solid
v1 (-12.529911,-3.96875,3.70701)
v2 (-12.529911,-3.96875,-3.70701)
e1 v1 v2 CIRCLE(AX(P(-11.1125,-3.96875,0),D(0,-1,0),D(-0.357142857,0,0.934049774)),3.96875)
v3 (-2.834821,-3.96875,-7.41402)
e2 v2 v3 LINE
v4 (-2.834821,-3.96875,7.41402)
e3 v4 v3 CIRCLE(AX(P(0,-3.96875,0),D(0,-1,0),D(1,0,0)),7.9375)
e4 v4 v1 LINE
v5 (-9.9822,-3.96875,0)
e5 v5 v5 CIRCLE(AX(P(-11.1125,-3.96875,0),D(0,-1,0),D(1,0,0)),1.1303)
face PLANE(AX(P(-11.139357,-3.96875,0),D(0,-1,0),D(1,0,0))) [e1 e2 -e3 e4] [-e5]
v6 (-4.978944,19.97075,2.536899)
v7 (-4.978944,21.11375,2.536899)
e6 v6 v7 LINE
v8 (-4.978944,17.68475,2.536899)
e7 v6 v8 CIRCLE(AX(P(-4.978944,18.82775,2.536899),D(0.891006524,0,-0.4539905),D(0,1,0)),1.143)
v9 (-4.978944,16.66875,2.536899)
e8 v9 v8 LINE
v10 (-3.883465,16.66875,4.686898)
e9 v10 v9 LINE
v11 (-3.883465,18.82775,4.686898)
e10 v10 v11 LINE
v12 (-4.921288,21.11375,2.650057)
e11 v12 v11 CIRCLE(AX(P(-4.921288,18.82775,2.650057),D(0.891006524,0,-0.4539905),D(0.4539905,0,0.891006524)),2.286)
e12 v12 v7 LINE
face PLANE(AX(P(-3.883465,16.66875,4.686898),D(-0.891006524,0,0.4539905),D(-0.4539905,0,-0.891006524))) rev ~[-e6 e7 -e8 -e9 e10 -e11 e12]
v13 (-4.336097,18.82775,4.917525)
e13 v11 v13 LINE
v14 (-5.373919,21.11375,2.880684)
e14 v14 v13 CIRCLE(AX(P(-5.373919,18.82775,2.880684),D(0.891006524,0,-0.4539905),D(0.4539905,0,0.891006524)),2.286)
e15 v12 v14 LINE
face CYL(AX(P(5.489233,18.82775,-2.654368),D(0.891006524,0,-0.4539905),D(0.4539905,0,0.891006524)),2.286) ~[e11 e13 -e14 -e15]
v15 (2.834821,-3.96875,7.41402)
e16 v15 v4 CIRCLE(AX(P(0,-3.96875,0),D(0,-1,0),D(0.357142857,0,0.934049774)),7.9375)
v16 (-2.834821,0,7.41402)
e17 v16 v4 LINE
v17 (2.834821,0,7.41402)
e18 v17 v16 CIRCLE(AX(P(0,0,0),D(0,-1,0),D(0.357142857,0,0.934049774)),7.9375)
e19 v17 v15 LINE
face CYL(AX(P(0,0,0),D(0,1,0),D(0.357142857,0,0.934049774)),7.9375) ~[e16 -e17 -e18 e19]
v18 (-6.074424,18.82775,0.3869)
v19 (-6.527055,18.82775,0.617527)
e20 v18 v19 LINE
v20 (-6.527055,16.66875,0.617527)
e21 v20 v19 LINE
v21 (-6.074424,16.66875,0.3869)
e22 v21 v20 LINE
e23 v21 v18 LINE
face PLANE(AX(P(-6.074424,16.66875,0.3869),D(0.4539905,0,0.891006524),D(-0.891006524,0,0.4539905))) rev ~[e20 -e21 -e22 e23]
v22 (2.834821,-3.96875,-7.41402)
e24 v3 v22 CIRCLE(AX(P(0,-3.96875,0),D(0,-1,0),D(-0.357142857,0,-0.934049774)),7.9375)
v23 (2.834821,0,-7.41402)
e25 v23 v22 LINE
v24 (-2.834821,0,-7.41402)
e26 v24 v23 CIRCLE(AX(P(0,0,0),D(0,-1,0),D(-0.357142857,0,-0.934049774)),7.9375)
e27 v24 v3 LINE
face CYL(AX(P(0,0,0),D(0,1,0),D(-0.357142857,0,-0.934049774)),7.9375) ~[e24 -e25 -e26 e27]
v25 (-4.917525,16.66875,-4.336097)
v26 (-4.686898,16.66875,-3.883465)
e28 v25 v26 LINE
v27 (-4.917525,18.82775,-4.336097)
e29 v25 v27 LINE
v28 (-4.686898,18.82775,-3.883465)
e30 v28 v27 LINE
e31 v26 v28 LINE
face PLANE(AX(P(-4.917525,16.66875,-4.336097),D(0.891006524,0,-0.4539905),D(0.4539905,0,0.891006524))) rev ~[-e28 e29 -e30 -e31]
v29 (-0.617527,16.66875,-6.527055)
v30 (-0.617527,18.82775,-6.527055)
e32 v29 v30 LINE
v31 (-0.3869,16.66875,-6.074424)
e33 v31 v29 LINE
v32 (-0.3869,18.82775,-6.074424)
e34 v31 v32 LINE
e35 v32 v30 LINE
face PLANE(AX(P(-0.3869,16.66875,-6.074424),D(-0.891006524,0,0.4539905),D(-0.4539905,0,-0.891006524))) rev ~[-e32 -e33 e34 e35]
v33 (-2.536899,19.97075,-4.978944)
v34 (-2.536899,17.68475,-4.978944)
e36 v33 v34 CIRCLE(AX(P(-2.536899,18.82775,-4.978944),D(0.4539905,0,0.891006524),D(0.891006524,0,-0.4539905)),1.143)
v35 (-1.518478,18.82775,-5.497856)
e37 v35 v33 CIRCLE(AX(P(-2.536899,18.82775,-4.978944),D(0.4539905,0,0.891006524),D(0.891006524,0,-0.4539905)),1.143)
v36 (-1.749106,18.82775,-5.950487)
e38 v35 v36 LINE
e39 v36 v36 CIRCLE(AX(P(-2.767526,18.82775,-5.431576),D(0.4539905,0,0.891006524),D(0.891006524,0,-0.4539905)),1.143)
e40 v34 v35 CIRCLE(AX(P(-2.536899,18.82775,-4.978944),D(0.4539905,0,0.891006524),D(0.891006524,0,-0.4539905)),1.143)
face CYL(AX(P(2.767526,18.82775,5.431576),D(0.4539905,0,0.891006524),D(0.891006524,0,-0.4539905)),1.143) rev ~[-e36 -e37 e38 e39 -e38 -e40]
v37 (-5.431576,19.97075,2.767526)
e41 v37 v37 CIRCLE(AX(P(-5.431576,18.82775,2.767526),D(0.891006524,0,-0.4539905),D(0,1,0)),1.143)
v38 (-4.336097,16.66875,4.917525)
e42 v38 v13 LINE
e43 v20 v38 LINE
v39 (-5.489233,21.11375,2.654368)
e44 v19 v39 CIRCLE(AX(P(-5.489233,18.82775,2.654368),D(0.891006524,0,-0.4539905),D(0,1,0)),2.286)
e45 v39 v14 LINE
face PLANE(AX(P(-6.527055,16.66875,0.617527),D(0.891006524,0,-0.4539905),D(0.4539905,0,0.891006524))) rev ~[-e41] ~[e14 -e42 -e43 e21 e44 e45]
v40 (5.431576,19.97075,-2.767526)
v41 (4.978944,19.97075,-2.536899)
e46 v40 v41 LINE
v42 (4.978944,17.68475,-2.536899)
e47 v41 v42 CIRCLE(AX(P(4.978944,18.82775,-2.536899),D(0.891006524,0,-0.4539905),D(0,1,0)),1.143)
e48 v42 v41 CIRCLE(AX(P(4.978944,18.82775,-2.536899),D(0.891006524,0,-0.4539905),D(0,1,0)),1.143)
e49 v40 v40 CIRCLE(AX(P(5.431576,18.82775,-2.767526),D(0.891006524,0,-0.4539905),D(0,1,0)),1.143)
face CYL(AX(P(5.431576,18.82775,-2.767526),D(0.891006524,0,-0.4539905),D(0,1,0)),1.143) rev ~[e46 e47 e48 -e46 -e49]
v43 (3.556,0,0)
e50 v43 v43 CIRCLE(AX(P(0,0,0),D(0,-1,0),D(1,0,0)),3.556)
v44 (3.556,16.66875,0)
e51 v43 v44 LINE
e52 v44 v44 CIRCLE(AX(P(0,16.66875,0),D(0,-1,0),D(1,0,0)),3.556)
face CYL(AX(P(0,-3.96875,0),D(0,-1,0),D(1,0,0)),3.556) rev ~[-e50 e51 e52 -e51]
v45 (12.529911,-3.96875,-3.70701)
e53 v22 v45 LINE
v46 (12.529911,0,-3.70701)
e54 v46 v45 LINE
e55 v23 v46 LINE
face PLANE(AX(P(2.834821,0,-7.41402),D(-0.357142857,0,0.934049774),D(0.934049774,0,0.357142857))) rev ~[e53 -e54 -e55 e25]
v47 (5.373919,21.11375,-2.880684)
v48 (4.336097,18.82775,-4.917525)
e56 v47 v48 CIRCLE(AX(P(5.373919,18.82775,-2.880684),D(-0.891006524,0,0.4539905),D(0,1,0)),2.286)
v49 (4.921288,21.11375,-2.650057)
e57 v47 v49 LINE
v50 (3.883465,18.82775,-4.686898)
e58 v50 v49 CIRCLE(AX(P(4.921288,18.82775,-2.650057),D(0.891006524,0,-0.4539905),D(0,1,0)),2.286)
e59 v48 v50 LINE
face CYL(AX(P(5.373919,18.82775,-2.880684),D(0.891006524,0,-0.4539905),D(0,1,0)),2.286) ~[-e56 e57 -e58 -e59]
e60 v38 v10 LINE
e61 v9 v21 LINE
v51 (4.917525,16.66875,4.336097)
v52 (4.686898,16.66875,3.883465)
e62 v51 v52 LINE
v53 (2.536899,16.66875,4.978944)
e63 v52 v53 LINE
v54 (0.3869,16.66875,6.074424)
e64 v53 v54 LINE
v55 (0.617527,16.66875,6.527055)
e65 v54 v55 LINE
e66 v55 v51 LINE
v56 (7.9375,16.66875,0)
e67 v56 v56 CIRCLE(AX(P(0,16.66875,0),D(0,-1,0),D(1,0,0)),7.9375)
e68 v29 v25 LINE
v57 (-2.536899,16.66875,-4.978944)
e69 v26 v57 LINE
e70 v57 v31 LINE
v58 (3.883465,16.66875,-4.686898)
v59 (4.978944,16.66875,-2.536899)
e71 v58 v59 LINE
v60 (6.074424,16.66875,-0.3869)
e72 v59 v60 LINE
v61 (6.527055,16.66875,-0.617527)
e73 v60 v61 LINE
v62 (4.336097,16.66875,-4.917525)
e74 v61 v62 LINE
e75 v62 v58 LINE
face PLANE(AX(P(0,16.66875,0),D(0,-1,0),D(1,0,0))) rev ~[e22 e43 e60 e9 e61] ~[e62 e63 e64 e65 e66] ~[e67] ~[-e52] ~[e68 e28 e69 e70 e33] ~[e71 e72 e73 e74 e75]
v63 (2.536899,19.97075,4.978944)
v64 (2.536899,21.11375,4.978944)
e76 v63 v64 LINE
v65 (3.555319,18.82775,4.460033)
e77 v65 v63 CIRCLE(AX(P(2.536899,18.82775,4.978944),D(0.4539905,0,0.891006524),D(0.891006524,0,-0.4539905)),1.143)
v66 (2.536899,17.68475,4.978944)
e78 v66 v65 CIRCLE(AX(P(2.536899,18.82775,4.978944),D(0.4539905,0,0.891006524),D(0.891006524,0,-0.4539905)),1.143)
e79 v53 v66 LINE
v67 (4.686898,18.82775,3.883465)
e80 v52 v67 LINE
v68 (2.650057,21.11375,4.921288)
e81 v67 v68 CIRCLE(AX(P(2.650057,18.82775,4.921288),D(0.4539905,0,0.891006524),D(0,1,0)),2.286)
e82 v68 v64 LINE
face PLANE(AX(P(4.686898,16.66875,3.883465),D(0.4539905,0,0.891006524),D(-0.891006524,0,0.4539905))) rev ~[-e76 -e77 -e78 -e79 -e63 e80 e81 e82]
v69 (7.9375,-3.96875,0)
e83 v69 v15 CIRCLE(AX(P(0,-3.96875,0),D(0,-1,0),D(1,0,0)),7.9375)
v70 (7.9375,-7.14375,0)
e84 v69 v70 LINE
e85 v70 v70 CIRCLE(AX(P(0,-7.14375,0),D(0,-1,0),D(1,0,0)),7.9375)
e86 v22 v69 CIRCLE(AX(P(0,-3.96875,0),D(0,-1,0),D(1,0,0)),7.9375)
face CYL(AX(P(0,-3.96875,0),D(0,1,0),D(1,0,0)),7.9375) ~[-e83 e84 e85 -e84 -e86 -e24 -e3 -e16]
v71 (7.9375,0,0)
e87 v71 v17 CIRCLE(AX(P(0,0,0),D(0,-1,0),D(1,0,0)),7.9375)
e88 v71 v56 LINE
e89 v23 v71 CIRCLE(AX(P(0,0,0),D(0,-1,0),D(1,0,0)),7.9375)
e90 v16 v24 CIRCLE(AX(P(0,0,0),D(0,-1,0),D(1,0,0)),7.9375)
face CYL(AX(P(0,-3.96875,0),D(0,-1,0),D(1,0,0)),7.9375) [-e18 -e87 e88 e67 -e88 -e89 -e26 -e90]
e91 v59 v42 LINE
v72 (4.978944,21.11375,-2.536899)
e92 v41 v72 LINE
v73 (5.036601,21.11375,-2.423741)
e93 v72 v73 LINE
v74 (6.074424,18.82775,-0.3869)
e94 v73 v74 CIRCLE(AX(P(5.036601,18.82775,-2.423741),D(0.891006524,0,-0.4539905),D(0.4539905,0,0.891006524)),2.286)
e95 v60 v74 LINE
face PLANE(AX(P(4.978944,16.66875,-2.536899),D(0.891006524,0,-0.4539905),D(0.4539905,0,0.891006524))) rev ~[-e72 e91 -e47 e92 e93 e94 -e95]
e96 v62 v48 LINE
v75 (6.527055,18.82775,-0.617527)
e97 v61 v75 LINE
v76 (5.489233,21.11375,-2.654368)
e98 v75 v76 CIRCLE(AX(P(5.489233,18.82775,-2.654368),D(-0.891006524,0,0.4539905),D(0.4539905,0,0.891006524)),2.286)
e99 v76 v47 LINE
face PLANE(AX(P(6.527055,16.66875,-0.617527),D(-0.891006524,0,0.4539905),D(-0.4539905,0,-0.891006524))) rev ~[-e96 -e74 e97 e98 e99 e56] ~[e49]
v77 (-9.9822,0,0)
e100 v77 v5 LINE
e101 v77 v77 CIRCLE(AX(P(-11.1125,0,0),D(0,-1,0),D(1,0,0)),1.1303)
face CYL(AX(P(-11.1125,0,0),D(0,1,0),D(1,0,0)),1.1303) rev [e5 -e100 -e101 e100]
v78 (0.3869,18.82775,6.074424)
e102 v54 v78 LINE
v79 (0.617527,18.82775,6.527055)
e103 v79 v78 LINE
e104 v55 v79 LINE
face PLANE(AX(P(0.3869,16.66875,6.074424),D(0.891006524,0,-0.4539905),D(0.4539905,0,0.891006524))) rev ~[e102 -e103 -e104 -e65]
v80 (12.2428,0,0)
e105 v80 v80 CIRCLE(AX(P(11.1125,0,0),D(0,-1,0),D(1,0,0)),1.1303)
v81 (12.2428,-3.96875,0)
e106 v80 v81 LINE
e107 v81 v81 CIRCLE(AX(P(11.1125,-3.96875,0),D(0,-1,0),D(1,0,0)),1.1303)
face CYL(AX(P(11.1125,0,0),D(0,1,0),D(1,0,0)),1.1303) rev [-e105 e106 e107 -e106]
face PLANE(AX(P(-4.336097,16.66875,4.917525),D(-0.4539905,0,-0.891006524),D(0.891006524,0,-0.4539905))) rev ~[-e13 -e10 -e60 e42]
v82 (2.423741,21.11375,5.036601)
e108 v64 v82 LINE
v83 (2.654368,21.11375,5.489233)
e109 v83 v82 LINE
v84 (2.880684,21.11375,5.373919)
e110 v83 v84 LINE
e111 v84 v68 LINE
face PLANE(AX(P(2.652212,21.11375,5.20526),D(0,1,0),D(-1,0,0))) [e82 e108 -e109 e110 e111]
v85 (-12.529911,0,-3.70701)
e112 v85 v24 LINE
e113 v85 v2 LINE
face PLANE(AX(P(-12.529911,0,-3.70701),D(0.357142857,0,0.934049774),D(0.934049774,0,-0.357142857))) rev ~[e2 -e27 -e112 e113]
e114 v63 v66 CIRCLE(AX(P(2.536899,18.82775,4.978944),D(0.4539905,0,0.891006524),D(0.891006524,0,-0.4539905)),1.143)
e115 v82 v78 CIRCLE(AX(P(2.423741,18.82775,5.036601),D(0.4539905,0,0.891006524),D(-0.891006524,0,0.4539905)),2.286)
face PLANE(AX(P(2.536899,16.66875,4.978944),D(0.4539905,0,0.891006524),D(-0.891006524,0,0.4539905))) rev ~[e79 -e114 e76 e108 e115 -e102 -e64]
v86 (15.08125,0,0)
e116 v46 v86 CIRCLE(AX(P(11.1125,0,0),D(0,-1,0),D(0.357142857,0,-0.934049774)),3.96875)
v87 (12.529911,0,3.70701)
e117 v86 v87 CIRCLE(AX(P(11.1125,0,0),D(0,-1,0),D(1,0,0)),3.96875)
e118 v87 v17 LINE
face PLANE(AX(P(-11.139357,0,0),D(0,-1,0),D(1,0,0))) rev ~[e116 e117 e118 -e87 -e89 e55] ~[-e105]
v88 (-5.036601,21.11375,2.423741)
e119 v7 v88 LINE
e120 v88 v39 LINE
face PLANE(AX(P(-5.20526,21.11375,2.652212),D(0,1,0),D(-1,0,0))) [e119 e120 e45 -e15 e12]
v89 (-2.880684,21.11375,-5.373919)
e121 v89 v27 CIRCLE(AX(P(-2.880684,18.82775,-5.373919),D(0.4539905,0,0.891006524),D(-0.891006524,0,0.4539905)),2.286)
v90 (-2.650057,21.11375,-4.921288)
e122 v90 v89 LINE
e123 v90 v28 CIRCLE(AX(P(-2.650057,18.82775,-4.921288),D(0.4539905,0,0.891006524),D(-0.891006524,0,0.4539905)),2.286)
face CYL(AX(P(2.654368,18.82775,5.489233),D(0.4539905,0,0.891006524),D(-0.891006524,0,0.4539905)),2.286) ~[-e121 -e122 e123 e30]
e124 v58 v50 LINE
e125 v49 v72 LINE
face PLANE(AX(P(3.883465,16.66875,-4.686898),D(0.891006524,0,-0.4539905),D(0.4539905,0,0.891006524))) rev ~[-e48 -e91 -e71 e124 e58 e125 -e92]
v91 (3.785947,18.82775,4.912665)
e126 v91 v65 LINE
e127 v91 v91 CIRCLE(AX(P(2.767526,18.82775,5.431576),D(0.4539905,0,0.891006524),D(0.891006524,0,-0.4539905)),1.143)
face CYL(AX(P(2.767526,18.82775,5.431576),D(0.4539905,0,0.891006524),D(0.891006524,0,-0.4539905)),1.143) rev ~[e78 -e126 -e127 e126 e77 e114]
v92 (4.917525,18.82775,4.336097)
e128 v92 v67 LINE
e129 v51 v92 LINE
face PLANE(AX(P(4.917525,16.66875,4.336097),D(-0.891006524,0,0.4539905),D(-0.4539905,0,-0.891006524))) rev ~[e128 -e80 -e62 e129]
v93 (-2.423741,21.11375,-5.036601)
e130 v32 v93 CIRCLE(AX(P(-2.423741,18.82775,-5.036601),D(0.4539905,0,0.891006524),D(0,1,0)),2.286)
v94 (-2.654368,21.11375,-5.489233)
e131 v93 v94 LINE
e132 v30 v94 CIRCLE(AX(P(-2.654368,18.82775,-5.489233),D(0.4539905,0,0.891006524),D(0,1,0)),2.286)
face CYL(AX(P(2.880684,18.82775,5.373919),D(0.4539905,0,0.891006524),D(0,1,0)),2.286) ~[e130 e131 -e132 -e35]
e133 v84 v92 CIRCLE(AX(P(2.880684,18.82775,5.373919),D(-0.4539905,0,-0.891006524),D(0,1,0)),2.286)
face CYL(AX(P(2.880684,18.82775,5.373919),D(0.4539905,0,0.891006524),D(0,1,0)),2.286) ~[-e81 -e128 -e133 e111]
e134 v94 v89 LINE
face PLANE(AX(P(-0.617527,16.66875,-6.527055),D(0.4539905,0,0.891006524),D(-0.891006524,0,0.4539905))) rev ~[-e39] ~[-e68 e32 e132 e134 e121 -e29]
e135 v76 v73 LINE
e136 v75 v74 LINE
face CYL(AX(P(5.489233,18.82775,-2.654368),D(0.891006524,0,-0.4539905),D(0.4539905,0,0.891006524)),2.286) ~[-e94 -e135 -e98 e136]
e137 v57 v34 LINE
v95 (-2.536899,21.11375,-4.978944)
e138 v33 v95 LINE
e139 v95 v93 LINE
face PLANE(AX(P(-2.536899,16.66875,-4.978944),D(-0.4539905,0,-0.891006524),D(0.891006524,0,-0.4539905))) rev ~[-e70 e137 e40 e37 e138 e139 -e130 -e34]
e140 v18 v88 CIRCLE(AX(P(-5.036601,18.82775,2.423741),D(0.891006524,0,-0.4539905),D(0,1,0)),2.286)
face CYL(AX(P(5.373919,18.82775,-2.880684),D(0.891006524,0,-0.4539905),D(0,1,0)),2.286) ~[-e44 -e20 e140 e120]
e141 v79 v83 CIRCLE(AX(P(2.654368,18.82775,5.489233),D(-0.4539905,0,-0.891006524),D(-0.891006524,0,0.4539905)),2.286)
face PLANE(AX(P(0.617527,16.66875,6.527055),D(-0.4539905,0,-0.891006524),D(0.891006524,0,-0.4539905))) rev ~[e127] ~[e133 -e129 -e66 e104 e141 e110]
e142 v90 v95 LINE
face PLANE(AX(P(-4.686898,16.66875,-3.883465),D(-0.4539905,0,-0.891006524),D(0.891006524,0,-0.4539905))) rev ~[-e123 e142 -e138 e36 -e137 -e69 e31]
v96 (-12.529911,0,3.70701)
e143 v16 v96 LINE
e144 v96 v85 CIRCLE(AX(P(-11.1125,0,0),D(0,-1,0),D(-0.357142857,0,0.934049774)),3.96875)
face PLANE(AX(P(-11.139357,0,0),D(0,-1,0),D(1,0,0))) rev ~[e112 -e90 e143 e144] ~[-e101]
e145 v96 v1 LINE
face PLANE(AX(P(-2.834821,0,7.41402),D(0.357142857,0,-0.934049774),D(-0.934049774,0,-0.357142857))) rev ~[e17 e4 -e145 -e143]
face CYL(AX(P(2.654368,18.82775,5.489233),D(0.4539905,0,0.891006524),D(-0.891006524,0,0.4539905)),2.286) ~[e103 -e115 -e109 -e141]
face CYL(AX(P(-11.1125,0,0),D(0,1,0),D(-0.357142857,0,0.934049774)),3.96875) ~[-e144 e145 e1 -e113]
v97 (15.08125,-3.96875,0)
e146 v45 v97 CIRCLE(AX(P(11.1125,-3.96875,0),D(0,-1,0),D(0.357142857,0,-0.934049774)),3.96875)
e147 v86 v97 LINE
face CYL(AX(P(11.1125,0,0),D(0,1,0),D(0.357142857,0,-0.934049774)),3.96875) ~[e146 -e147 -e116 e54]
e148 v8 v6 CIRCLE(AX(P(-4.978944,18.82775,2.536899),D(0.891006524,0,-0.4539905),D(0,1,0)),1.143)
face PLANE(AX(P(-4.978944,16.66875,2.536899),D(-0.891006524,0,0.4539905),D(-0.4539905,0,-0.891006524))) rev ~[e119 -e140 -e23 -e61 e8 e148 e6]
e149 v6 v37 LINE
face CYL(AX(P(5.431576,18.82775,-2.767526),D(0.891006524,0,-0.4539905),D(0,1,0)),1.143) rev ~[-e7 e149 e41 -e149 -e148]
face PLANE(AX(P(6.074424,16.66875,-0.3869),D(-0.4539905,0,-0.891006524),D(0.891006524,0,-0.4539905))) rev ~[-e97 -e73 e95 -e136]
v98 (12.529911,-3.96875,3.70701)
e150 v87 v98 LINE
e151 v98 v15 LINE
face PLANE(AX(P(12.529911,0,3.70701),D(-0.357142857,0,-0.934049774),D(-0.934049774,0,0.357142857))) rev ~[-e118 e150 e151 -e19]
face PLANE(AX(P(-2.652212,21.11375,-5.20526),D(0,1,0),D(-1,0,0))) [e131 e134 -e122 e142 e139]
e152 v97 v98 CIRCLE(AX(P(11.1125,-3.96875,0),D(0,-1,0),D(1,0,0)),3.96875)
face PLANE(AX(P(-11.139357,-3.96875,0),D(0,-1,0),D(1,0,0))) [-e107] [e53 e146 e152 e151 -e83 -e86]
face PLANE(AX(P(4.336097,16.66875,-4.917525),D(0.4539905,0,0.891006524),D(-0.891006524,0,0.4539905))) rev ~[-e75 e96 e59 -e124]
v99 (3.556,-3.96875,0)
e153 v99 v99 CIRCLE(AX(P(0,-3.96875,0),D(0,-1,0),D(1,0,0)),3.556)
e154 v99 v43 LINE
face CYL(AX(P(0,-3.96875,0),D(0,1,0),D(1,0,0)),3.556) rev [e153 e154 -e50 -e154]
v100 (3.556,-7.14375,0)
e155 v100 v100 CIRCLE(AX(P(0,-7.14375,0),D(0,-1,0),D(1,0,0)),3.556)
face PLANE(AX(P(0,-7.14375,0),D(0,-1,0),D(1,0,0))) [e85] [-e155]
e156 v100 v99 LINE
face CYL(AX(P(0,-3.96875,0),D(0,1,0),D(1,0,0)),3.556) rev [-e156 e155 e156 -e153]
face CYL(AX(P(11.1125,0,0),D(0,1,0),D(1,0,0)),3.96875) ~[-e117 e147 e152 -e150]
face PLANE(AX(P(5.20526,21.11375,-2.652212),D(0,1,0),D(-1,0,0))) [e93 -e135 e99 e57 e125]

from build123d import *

# Parameters (mm, degrees)
F0_R          = 1.1303
F0_R_2        = 3.556
F1_DEPTH      = 3.96875
F2_R          = 7.9375
F2_R_2        = 3.556
F3_DEPTH      = 3.175
F3_DEPTH_BACK = 20.6375
F5_DEPTH      = 4.445
F6_R          = 1.143
F7_DEPTH      = 20.0161085099
F8_R          = 1.143
F9_DEPTH      = 23.1380417346


with BuildPart() as f1:
    # F0 (on Front) → F1 (new body)
    with BuildSketch(Plane.XZ):
        with BuildLine():
            ThreePointArc((-7.6823660714, -1.9962860002), (-7.9375, 0), (-7.6823660714, 1.9962860002))
            ThreePointArc((-7.6823660714, 1.9962860002), (-9.7917396627, 3.7425350625), (-12.5299107143, 3.707010039))
            ThreePointArc((-12.5299107143, 3.707010039), (-15.08125, 0), (-12.5299107143, -3.707010039))
            ThreePointArc((-12.5299107143, -3.707010039), (-9.7917396627, -3.7425350625), (-7.6823660714, -1.9962860002))
        make_face()
        with Locations((-11.1125, 0)):
            Circle(F0_R, mode=Mode.SUBTRACT)
        with BuildLine():
            ThreePointArc((12.5299107143, 3.707010039), (9.7917396627, 3.7425350625), (7.6823660714, 1.9962860002))
            ThreePointArc((7.6823660714, 1.9962860002), (7.8734581647, 1.0062617845), (7.9375, 0))
            ThreePointArc((7.9375, 0), (7.8734581647, -1.0062617845), (7.6823660714, -1.9962860002))
            ThreePointArc((7.6823660714, -1.9962860002), (9.7917396627, -3.7425350625), (12.5299107143, -3.707010039))
            ThreePointArc((12.5299107143, -3.707010039), (14.381775557, -2.2500697534), (15.08125, 0))
            ThreePointArc((15.08125, 0), (14.381775557, 2.2500697534), (12.5299107143, 3.707010039))
        make_face()
        with Locations((11.1125, 0)):
            Circle(F0_R, mode=Mode.SUBTRACT)
        with BuildLine():
            ThreePointArc((7.6823660714, 1.9962860002), (5.9152995581, 5.292743843), (2.8348214286, 7.4140200781))
            ThreePointArc((2.8348214286, 7.4140200781), (0, 7.9375), (-2.8348214286, 7.4140200781))
            ThreePointArc((-2.8348214286, 7.4140200781), (-5.9152995581, 5.292743843), (-7.6823660714, 1.9962860002))
            ThreePointArc((-7.6823660714, 1.9962860002), (-7.2807692819, 1.0338357059), (-7.14375, 0))
            ThreePointArc((-7.14375, 0), (-7.2807692819, -1.0338357059), (-7.6823660714, -1.9962860002))
            ThreePointArc((-7.6823660714, -1.9962860002), (-5.9152995581, -5.292743843), (-2.8348214286, -7.4140200781))
            ThreePointArc((-2.8348214286, -7.4140200781), (0, -7.9375), (2.8348214286, -7.4140200781))
            ThreePointArc((2.8348214286, -7.4140200781), (5.9152995581, -5.292743843), (7.6823660714, -1.9962860002))
            ThreePointArc((7.6823660714, -1.9962860002), (7.14375, 0), (7.6823660714, 1.9962860002))
        make_face()
        Circle(F0_R_2, mode=Mode.SUBTRACT)
        with BuildLine():
            ThreePointArc((-7.14375, 0), (-7.2807692819, 1.0338357059), (-7.6823660714, 1.9962860002))
            ThreePointArc((-7.6823660714, 1.9962860002), (-7.9375, 0), (-7.6823660714, -1.9962860002))
            ThreePointArc((-7.6823660714, -1.9962860002), (-7.2807692819, -1.0338357059), (-7.14375, 0))
        make_face()
        with BuildLine():
            ThreePointArc((7.9375, 0), (7.8734581647, 1.0062617845), (7.6823660714, 1.9962860002))
            ThreePointArc((7.6823660714, 1.9962860002), (7.14375, 0), (7.6823660714, -1.9962860002))
            ThreePointArc((7.6823660714, -1.9962860002), (7.8734581647, -1.0062617845), (7.9375, 0))
        make_face()
        with BuildLine():
            Line((12.5299107143, 3.707010039), (2.8348214286, 7.4140200781))
            ThreePointArc((2.8348214286, 7.4140200781), (5.9152995581, 5.292743843), (7.6823660714, 1.9962860002))
            ThreePointArc((7.6823660714, 1.9962860002), (9.7917396627, 3.7425350625), (12.5299107143, 3.707010039))
        make_face()
        with BuildLine():
            ThreePointArc((-7.6823660714, 1.9962860002), (-5.9152995581, 5.292743843), (-2.8348214286, 7.4140200781))
            Line((-2.8348214286, 7.4140200781), (-12.5299107143, 3.707010039))
            ThreePointArc((-12.5299107143, 3.707010039), (-9.7917396627, 3.7425350625), (-7.6823660714, 1.9962860002))
        make_face()
        with BuildLine():
            ThreePointArc((-2.8348214286, -7.4140200781), (-5.9152995581, -5.292743843), (-7.6823660714, -1.9962860002))
            ThreePointArc((-7.6823660714, -1.9962860002), (-9.7917396627, -3.7425350625), (-12.5299107143, -3.707010039))
            Line((-12.5299107143, -3.707010039), (-2.8348214286, -7.4140200781))
        make_face()
        with BuildLine():
            ThreePointArc((12.5299107143, -3.707010039), (9.7917396627, -3.7425350625), (7.6823660714, -1.9962860002))
            ThreePointArc((7.6823660714, -1.9962860002), (5.9152995581, -5.292743843), (2.8348214286, -7.4140200781))
            Line((2.8348214286, -7.4140200781), (12.5299107143, -3.707010039))
        make_face()
    extrude(amount=F1_DEPTH)

    # F2 (on face) → F3 (join, two sides)
    with BuildSketch(Plane.XZ.offset(3.96875)) as f3_sk:
        Circle(F2_R)
        Circle(F2_R_2, mode=Mode.SUBTRACT)
    extrude(amount=F3_DEPTH)
    extrude(f3_sk.sketch, amount=-F3_DEPTH_BACK)

    # F4 (on face) → F5 (join)
    with BuildSketch(Plane(origin=(0, 16.66875, 0), x_dir=(-1, 0, 0), z_dir=(0, 1, 0))):
        Polygon((-4.6868976554, 3.8834653813), (-2.5368989125, 4.9789444572), (-0.3869001697, 6.074423533), (-0.6175273435, 6.5270548473), (-4.9175248293, 4.3360966956), align=None)
        Polygon((-6.074423533, -0.3869001697), (-6.5270548473, -0.6175273435), (-4.3360966956, -4.9175248293), (-3.8834653813, -4.6868976554), (-4.9789444572, -2.5368989125), align=None)
        Polygon((0.3869001697, -6.074423533), (0.6175273435, -6.5270548473), (4.9175248293, -4.3360966956), (4.6868976554, -3.8834653813), (2.5368989125, -4.9789444572), align=None)
        Polygon((6.074423533, 0.3869001697), (6.5270548473, 0.6175273435), (4.3360966956, 4.9175248293), (3.8834653813, 4.6868976554), (4.9789444572, 2.5368989125), align=None)
    extrude(amount=F5_DEPTH)

    # F6 (on face) → F7 (cut, through all)
    with BuildSketch(Plane(origin=(2.7675260864, 0, 5.4315757715), x_dir=(0.8910065242, 0, -0.4539904997), z_dir=(0.4539904997, 0, 0.8910065242))):
        with BuildLine():
            Line((-2.413, 21.11375), (-2.413, 18.82775))
            ThreePointArc((-2.413, 18.82775), (-1.7434461018, 20.4441961018), (-0.127, 21.11375))
            Line((-0.127, 21.11375), (-2.413, 21.11375))
        make_face()
        with Locations((0, 18.82775)):
            Circle(F6_R)
        with BuildLine():
            ThreePointArc((0.127, 21.11375), (1.7434461018, 20.4441961018), (2.413, 18.82775))
            Line((2.413, 18.82775), (2.413, 21.11375))
            Line((2.413, 21.11375), (0.127, 21.11375))
        make_face()
    extrude(amount=-F7_DEPTH, mode=Mode.SUBTRACT)

    # F8 (on face) → F9 (cut, through all)
    with BuildSketch(Plane(origin=(5.4315757715, 0, -2.7675260864), x_dir=(0, 1, 0), z_dir=(0.8910065242, 0, -0.4539904997))):
        with BuildLine():
            Line((21.11375, 0.127), (21.11375, 2.413))
            Line((21.11375, 2.413), (18.82775, 2.413))
            ThreePointArc((18.82775, 2.413), (20.4441961018, 1.7434461018), (21.11375, 0.127))
        make_face()
        with Locations((18.82775, 0)):
            Circle(F8_R)
        with BuildLine():
            Line((21.11375, -2.413), (21.11375, -0.127))
            ThreePointArc((21.11375, -0.127), (20.4441961018, -1.7434461018), (18.82775, -2.413))
            Line((18.82775, -2.413), (21.11375, -2.413))
        make_face()
    extrude(amount=-F9_DEPTH, mode=Mode.SUBTRACT)


solid = f1.part
